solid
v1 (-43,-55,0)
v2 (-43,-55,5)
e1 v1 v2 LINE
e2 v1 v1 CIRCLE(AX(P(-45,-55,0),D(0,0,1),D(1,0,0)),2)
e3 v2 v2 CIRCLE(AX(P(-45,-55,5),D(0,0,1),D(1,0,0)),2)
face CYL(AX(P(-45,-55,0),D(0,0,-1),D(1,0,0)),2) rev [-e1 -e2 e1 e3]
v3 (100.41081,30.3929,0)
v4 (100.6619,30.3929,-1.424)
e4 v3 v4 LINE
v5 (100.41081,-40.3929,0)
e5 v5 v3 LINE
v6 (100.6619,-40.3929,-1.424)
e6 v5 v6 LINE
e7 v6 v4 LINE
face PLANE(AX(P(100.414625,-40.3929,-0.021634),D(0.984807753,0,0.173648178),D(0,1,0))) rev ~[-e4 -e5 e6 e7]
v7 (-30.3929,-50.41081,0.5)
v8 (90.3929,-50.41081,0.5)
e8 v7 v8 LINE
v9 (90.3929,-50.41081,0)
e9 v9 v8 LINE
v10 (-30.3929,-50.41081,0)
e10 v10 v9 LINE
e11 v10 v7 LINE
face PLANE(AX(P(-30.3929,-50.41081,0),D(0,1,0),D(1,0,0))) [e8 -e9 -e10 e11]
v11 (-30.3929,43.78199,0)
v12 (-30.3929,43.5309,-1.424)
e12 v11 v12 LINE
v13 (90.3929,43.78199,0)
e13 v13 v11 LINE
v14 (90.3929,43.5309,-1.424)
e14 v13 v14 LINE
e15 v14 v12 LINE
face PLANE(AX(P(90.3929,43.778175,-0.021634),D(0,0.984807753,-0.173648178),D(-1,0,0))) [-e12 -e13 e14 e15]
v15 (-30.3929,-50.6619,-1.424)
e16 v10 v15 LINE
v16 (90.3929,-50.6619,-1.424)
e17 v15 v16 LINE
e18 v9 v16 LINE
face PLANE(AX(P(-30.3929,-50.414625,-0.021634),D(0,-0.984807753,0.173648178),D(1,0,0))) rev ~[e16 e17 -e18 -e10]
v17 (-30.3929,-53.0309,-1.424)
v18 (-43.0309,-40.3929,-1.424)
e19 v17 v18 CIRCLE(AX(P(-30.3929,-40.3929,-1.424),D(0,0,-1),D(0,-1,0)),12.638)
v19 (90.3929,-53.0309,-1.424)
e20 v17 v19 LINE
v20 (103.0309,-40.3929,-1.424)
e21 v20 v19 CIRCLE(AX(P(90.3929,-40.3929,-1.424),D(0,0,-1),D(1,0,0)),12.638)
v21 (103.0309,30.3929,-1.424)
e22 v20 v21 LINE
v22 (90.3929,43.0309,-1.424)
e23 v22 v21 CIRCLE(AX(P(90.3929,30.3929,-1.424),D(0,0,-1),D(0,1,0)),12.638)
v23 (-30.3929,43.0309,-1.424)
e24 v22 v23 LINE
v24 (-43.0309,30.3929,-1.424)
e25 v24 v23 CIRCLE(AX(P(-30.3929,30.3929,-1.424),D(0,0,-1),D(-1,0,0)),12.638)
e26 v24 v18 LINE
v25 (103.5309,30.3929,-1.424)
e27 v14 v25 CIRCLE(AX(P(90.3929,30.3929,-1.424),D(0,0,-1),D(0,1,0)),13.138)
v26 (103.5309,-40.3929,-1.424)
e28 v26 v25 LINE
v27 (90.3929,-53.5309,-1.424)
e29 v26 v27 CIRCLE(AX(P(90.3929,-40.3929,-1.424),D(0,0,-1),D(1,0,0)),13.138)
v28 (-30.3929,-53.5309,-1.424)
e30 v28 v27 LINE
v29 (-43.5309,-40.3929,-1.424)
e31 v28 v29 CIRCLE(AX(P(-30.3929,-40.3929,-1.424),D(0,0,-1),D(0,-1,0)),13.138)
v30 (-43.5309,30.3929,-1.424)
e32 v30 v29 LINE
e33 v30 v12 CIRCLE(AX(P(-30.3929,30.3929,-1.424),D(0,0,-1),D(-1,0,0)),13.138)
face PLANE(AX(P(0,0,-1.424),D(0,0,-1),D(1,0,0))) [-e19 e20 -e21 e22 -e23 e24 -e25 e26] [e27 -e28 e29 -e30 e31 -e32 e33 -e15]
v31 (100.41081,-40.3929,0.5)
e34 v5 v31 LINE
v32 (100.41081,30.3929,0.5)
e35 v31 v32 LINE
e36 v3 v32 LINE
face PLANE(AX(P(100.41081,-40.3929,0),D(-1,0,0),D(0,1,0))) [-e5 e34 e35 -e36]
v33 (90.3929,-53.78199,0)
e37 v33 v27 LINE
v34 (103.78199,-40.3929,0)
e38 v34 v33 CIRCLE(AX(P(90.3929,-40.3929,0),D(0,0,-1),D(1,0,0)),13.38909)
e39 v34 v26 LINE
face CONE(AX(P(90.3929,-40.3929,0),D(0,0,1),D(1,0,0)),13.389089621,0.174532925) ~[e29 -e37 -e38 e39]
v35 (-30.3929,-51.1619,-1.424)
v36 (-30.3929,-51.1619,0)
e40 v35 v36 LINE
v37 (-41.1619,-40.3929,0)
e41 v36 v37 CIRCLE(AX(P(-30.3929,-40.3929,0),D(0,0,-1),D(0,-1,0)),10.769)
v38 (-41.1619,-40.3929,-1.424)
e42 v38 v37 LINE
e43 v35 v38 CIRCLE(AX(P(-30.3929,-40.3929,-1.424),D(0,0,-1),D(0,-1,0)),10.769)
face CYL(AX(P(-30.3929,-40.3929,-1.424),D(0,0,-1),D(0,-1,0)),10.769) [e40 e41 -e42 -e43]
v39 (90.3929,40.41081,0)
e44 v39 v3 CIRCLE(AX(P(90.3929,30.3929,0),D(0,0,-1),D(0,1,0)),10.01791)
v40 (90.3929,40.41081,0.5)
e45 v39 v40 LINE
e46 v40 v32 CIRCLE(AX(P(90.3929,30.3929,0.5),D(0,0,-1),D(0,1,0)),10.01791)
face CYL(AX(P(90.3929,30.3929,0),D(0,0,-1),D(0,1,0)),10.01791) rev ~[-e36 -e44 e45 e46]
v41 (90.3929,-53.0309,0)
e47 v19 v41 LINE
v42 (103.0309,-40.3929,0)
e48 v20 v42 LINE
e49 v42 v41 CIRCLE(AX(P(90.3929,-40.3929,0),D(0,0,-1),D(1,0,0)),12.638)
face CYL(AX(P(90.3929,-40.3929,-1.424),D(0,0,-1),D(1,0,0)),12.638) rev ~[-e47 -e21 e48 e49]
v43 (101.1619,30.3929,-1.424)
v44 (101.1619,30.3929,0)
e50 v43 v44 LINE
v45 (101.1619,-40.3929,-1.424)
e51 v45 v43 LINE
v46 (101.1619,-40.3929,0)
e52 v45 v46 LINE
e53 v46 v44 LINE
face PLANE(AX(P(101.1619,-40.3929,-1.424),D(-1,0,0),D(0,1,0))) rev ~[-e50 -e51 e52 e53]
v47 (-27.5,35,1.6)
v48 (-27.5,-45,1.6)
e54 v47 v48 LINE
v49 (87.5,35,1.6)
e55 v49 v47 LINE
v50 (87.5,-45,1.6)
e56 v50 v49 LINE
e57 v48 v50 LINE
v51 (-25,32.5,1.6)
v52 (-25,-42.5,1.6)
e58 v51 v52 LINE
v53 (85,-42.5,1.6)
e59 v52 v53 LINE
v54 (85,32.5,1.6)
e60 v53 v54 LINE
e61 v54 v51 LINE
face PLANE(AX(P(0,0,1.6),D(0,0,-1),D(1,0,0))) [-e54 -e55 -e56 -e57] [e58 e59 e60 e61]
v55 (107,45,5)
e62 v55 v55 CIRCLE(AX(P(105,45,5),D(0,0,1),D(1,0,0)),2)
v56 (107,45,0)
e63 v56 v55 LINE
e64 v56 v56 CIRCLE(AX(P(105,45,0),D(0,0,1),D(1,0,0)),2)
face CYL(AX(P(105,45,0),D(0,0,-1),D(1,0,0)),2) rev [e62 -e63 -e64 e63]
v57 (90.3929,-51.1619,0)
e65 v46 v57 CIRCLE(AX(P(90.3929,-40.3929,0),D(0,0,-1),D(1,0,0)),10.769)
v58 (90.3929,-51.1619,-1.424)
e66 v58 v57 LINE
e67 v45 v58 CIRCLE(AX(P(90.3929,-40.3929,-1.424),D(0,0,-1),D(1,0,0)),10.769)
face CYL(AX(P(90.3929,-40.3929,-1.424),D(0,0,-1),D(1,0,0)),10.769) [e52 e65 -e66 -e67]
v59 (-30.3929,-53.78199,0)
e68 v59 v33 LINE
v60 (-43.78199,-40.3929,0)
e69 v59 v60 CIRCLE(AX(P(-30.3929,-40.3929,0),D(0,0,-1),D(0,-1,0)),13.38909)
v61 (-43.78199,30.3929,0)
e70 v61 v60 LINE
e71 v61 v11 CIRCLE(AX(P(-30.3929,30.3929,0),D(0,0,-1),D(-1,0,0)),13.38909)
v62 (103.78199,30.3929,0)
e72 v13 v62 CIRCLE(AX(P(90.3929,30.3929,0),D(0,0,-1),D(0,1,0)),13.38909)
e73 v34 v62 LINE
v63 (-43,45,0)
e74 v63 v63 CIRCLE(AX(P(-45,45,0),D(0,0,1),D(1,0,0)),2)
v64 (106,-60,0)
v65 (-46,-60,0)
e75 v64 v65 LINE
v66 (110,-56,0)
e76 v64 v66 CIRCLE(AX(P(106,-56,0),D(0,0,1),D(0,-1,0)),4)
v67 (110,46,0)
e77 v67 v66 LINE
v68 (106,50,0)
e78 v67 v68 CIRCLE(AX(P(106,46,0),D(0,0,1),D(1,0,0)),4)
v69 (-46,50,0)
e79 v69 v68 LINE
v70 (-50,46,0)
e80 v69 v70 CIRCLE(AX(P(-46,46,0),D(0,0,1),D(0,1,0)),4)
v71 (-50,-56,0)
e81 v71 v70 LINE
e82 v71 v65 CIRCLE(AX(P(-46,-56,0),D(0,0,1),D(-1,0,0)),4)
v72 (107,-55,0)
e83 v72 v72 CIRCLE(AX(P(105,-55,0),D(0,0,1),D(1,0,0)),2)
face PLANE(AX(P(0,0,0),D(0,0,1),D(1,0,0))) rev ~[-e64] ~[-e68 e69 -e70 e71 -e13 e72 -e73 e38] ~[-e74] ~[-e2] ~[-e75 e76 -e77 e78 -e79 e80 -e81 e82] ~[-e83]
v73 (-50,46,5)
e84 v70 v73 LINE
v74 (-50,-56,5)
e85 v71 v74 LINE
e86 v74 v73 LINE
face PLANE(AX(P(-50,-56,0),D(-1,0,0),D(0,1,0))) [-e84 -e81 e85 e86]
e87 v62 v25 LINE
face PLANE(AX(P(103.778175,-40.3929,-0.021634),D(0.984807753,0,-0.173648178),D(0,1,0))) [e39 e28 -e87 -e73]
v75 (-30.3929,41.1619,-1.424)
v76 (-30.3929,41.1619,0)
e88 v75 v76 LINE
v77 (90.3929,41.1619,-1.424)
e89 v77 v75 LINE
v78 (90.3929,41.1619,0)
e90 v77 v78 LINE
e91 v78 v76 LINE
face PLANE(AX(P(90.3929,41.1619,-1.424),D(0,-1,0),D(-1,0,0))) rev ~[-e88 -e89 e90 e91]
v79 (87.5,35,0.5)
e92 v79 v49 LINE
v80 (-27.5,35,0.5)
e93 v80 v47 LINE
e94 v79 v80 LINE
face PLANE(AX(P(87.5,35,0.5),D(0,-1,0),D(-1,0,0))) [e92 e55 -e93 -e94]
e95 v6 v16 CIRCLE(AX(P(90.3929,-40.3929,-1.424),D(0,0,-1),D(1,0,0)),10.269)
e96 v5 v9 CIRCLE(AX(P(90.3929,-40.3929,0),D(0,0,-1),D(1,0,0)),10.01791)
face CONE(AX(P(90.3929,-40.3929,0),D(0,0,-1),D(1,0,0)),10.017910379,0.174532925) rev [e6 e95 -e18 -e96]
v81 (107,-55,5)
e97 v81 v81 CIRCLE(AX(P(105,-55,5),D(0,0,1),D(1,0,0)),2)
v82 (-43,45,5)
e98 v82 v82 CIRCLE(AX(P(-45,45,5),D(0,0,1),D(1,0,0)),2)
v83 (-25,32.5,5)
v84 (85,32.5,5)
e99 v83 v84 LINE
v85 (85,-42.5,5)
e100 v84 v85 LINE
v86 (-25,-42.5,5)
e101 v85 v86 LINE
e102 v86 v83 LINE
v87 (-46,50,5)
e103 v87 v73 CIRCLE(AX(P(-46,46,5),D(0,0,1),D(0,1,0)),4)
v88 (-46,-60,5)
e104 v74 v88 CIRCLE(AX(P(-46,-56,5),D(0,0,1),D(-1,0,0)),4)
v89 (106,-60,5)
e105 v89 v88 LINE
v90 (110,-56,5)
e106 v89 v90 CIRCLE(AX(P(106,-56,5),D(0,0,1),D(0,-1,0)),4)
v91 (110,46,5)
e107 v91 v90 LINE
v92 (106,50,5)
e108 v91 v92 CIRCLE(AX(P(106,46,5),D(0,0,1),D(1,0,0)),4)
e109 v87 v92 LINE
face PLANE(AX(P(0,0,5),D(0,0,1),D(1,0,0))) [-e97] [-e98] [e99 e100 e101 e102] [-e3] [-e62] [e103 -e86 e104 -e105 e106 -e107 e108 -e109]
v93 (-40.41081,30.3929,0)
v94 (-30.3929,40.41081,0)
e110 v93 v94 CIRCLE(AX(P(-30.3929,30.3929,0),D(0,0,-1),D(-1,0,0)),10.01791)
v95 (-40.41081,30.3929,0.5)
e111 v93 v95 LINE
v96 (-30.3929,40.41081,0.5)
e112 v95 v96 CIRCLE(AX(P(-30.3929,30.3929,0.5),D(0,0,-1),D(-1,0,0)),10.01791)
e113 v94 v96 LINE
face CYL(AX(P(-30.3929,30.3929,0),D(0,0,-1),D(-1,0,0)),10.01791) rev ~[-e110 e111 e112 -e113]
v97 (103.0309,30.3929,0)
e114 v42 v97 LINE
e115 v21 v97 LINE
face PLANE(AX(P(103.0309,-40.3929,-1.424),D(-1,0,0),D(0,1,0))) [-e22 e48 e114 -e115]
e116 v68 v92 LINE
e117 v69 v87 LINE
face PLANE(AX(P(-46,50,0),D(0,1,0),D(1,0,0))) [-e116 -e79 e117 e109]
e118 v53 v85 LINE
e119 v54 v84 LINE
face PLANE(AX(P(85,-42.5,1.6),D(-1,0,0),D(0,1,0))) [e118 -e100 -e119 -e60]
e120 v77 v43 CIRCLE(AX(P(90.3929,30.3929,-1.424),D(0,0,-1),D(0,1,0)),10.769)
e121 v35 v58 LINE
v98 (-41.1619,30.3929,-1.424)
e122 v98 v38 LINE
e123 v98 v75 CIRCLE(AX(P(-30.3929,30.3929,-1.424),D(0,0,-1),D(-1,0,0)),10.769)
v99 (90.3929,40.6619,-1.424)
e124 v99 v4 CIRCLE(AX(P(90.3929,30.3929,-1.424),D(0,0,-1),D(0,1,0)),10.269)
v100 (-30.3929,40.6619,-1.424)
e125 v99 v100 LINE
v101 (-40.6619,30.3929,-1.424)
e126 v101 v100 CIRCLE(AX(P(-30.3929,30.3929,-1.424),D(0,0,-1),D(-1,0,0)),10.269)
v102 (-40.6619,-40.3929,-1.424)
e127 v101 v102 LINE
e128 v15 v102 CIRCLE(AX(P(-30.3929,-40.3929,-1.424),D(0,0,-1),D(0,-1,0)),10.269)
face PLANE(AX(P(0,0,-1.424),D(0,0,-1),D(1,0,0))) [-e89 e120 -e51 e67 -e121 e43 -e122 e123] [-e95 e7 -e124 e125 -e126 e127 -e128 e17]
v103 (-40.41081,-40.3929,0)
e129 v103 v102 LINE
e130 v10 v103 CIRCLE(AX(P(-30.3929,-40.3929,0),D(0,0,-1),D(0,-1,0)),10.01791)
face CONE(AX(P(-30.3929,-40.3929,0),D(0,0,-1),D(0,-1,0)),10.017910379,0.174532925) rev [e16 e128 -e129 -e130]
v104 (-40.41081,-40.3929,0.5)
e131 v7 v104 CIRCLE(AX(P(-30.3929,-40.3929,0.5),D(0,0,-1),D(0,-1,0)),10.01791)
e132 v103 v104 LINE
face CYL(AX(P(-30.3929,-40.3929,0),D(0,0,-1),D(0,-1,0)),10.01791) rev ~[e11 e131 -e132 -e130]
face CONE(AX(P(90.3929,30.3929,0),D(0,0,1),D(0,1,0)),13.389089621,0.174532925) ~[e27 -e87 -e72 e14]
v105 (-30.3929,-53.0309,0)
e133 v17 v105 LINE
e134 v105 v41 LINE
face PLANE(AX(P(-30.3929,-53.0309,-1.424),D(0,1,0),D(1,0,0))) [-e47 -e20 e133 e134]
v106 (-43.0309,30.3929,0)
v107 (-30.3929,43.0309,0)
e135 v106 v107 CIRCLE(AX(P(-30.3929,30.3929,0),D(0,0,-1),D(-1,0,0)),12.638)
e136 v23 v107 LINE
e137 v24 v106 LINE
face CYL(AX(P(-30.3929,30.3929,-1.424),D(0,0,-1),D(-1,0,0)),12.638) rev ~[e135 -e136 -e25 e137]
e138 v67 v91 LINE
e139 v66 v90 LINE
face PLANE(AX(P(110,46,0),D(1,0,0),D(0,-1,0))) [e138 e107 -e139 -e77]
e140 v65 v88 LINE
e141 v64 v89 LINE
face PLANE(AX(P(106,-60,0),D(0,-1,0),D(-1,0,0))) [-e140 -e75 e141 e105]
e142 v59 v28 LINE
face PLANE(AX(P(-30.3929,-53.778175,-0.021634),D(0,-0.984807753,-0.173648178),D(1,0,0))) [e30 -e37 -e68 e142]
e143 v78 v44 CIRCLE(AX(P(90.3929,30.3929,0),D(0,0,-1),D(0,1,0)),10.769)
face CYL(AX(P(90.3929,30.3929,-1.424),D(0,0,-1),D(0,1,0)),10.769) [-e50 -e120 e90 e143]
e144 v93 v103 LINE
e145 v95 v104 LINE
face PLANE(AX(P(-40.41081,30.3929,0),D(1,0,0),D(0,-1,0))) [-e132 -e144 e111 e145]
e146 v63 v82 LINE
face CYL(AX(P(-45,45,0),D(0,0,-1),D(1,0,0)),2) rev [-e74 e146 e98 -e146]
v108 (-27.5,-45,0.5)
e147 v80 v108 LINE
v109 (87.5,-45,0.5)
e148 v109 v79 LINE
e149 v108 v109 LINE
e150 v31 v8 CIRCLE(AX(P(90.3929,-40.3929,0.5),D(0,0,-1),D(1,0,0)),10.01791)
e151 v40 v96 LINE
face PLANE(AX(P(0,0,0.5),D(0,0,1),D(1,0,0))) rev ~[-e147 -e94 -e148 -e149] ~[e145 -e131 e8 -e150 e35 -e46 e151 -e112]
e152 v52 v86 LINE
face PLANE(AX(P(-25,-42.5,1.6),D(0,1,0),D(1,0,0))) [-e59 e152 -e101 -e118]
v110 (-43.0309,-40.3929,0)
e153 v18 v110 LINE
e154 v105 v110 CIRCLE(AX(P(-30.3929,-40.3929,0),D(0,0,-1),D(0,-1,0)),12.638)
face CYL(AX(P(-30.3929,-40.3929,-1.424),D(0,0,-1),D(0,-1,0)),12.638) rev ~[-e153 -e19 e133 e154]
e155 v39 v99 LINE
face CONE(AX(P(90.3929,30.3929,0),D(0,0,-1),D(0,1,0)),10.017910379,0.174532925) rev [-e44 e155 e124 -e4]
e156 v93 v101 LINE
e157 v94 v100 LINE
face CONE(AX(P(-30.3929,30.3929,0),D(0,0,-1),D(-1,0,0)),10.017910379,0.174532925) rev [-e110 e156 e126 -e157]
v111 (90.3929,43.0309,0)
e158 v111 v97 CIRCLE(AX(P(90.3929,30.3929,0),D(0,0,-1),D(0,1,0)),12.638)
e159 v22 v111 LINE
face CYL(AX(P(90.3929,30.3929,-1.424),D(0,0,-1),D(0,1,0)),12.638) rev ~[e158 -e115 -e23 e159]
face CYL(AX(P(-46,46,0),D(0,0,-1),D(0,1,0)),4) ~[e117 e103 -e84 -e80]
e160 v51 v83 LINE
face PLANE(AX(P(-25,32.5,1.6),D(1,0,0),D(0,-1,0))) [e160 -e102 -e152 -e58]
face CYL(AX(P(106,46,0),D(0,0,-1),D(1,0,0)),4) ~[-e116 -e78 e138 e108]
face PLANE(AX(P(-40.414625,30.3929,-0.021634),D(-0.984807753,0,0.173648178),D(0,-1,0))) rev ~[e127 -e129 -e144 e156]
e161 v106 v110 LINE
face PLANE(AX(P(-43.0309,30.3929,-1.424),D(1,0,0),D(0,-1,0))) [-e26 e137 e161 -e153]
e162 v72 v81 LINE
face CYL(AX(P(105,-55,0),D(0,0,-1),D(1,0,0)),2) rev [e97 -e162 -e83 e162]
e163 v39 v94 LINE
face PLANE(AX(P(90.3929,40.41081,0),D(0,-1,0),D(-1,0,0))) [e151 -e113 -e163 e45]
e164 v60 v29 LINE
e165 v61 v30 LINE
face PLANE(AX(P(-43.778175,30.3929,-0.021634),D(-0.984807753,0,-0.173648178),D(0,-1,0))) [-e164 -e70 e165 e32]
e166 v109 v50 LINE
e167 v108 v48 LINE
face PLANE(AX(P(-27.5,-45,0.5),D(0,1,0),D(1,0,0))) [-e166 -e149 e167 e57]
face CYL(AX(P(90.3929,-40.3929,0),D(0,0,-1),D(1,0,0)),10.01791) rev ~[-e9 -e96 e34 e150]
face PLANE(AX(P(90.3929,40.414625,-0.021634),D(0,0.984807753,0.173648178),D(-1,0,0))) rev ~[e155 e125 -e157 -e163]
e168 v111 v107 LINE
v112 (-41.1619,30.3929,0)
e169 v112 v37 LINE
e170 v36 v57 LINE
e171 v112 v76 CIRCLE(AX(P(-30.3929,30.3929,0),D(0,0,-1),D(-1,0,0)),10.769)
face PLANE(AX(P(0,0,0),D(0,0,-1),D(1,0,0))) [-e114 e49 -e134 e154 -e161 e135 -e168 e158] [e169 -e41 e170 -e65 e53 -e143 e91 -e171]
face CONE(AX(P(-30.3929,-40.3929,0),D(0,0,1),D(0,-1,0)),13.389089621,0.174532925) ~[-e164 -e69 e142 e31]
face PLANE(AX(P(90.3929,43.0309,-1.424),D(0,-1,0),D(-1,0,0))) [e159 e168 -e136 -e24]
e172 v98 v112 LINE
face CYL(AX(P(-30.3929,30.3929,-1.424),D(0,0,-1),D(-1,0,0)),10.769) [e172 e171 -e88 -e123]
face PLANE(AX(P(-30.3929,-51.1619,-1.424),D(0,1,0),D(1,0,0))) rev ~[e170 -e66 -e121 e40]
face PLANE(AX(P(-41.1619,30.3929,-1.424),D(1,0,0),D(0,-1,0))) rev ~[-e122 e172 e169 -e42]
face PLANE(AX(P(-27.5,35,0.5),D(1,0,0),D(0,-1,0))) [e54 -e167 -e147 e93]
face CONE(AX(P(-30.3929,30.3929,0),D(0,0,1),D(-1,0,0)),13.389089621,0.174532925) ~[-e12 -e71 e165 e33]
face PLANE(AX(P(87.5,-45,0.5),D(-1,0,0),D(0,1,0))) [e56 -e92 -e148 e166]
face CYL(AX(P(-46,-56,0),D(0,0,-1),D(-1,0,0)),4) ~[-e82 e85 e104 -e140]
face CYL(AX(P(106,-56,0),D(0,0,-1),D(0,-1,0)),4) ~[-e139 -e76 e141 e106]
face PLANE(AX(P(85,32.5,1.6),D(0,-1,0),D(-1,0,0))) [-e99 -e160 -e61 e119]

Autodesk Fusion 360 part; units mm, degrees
sketch "Sketch2" plane through (0, 0, 0) normal (0, 0, 1) x (1, 0, 0)
  line L0 (-46, 50) -> (106, 50)
  line L1 (110, 46) -> (110, -56)
  line L2 (106, -60) -> (-46, -60)
  line L3 (-50, -56) -> (-50, 46)
  circle A0 centre (-45, 45) radius 2
  line L4 (30, -60) -> (30, 50) construction
  line L5 (-50, -5) -> (110, -5) construction
  arc A1 (-46, 50) -> (-50, 46) centre (-46, 46) ccw
  circle A2 centre (105, 45) radius 2
  arc A3 (110, 46) -> (106, 50) centre (106, 46) ccw
  circle A4 centre (105, -55) radius 2
  arc A5 (106, -60) -> (110, -56) centre (106, -56) ccw
  circle A6 centre (-45, -55) radius 2
  arc A7 (-50, -56) -> (-46, -60) centre (-46, -56) ccw
  point P0 (-50, 50)
  point P1 (110, 50)
  dimension "d3" = 4
  dimension "d4" = 5
  dimension "d5" = 5
  dimension "d6" = 4
  dimension "d63" = 160
  dimension "d64" = 110
extrude "Extrude1" add sketch "Sketch2" along normal blind 5
sketch "Sketch3" plane through (0, 0, 0) normal (0, 0, -1) x (1, 0, 0)
  circle A0 centre (105, 55) radius 2
  circle A1 centre (-45, 55) radius 2
  circle A2 centre (-45, -45) radius 2
  circle A3 centre (105, -45) radius 2
  arc A4 (-50, -46) -> (-46, -50) centre (-46, -46) ccw
  line L0 (-46, -50) -> (106, -50)
  arc A5 (106, -50) -> (110, -46) centre (106, -46) ccw
  line L1 (110, -46) -> (110, 56)
  arc A6 (110, 56) -> (106, 60) centre (106, 56) ccw
  line L2 (106, 60) -> (-46, 60)
  arc A7 (-46, 60) -> (-50, 56) centre (-46, 56) ccw
  line L3 (-50, 56) -> (-50, -46)
  line L4 (30, 60) -> (30, -50) construction
  line L5 (110, 5) -> (-50, 5) construction
  line L6 (102.0964, -42.0964) -> (-42.0964, -42.0964) construction
  line L7 (-42.0964, -42.0964) -> (-42.0964, 52.0964) construction
  line L8 (-42.0964, 52.0964) -> (102.0964, 52.0964) construction
  line L9 (102.0964, 52.0964) -> (102.0964, -42.0964) construction
  line L10 (102.0964, -42.0964) -> (-42.0964, 52.0964) construction
  line L11 (-42.0964, -42.0964) -> (102.0964, 52.0964) construction
  line L12 (90.3929, -43.5309) -> (-30.3929, -43.5309)
  line L13 (-43.5309, -30.3929) -> (-43.5309, 40.3929)
  line L14 (-30.3929, 53.5309) -> (90.3929, 53.5309)
  line L15 (103.5309, 40.3929) -> (103.5309, -30.3929)
  line L16 (88.8372, -33.833) -> (-43.5309, 53.5309) construction
  line L17 (-37.4412, -35.28) -> (85.6746, 38.2522) construction
  line L18 (-40.6619, -30.3929) -> (-40.6619, 40.3929)
  line L19 (-30.3929, 50.6619) -> (90.3929, 50.6619)
  line L20 (100.6619, 40.3929) -> (100.6619, -30.3929)
  line L21 (98.0436, -38.97) -> (-40.6619, 50.6619) construction
  line L22 (-34.7613, -32.5014) -> (82.9436, 35.6581) construction
  arc A8 (-30.3929, 50.6619) -> (-40.6619, 40.3929) centre (-30.3929, 40.3929) ccw
  arc A9 (-30.3929, 53.5309) -> (-43.5309, 40.3929) centre (-30.3929, 40.3929) ccw
  arc A10 (100.6619, 40.3929) -> (90.3929, 50.6619) centre (90.3929, 40.3929) ccw
  arc A11 (103.5309, 40.3929) -> (90.3929, 53.5309) centre (90.3929, 40.3929) ccw
  arc A12 (-40.6619, -30.3929) -> (-30.3929, -40.6619) centre (-30.3929, -30.3929) ccw
  arc A13 (-43.5309, -30.3929) -> (-30.3929, -43.5309) centre (-30.3929, -30.3929) ccw
  arc A14 (90.3929, -40.6619) -> (100.6619, -30.3929) centre (90.3929, -30.3929) ccw
  arc A15 (90.3929, -43.5309) -> (103.5309, -30.3929) centre (90.3929, -30.3929) ccw
  line L23 (90.3929, -40.6619) -> (-30.3929, -40.6619)
  point P0 (30, 5)
  point P1 (30, 5)
  point P2 (30, 5)
  point P3 (30, 5)
  point P4 (30, 5)
  dimension "d25" = 144.1928
  dimension "d27" = 94.1928
  dimension "d28" = 1.4345
  dimension "d29" = 1.4345
  dimension "d30" = 1.4345
  dimension "d31" = 1.4345
  dimension "d44" = 10.269
  dimension "d45" = 13.138
extrude "Extrude4" add sketch "Sketch3" along normal blind 1.424 contours L12 L13 L14 L15 A9 A11 A13 A15
draft "Draft3" angle 10 neutral plane through (0, 0, -1.424) pull (0, 0, -1) 16 faces at (9.869, -50.6619, -0.9493) (96.3495, -48.7578, -0.9493) (100.6619, -16.7976, -0.4747) (92.8139, 40.3724, -0.9493) (9.869, 40.6619, -0.9493) (-33.7516, 40.0971, -0.9493) (-40.6619, 6.7976, -0.4747) (-40.0971, -43.7516, -0.9493) (-43.5309, 6.7976, -0.4747) (-38.0137, 41.0948, -0.9493) (50.131, 43.5309, -0.4747) (103.516, 31.018, -0.9493) (103.5309, -16.7976, -0.9493) (99.4592, -49.9013, -0.9493) (9.869, -53.5309, -0.4747) (-38.5143, -50.7201, -0.9493)
sketch "Sketch5" plane through (0, 0, -1.424) normal (0, 0, -1) x (1, 0, 0)
  line L0 (-30.3929, 50.6619) -> (90.3929, 50.6619)
  line L1 (100.6619, 40.3929) -> (100.6619, -30.3929)
  line L2 (90.3929, -40.6619) -> (-30.3929, -40.6619)
  line L3 (-40.6619, -30.3929) -> (-40.6619, 40.3929)
  line L4 (90.3929, 53.5309) -> (-30.3929, 53.5309)
  line L5 (-43.5309, 40.3929) -> (-43.5309, -30.3929)
  line L6 (-30.3929, -43.5309) -> (90.3929, -43.5309)
  line L7 (103.5309, -30.3929) -> (103.5309, 40.3929)
  line L8 (30, 53.5309) -> (30, -43.5309) construction
  line L9 (103.5309, 5) -> (-43.5309, 5) construction
  line L10 (102.0964, -42.0964) -> (-42.0964, -42.0964) construction
  line L11 (-42.0964, -42.0964) -> (-42.0964, 52.0964) construction
  line L12 (-42.0964, 52.0964) -> (102.0964, 52.0964) construction
  line L13 (102.0964, 52.0964) -> (102.0964, -42.0964) construction
  line L14 (102.0964, -42.0964) -> (-42.0964, 52.0964) construction
  line L15 (-42.0964, -42.0964) -> (102.0964, 52.0964) construction
  line L16 (90.3929, -43.0309) -> (-30.3929, -43.0309)
  line L17 (-43.0309, -30.3929) -> (-43.0309, 40.3929)
  line L18 (-30.3929, 53.0309) -> (90.3929, 53.0309)
  line L19 (103.0309, 40.3929) -> (103.0309, -30.3929)
  line L20 (88.9806, -33.7903) -> (-43.0309, 53.0309) construction
  line L21 (-43.0309, -43.0309) -> (88.9807, 43.7903) construction
  line L22 (90.3929, -41.1619) -> (-30.3929, -41.1619)
  line L23 (-41.1619, -30.3929) -> (-41.1619, 40.3929)
  line L24 (101.1619, 40.3929) -> (101.1619, -30.3929)
  line L25 (88.054, -32.659) -> (-41.1619, 51.1619) construction
  line L26 (-41.1619, -41.1619) -> (88.054, 42.659) construction
  arc A0 (100.6619, 40.3929) -> (90.3929, 50.6619) centre (90.3929, 40.3929) ccw
  arc A1 (90.3929, -40.6619) -> (100.6619, -30.3929) centre (90.3929, -30.3929) ccw
  arc A2 (-40.6619, -30.3929) -> (-30.3929, -40.6619) centre (-30.3929, -30.3929) ccw
  arc A3 (-30.3929, 50.6619) -> (-40.6619, 40.3929) centre (-30.3929, 40.3929) ccw
  arc A4 (-43.5309, -30.3929) -> (-30.3929, -43.5309) centre (-30.3929, -30.3929) ccw
  arc A5 (90.3929, -43.5309) -> (103.5309, -30.3929) centre (90.3929, -30.3929) ccw
  arc A6 (103.5309, 40.3929) -> (90.3929, 53.5309) centre (90.3929, 40.3929) ccw
  arc A7 (-30.3929, 53.5309) -> (-43.5309, 40.3929) centre (-30.3929, 40.3929) ccw
  arc A8 (-30.3929, 51.1619) -> (-41.1619, 40.3929) centre (-30.3929, 40.3929) ccw
  arc A9 (-30.3929, 53.0309) -> (-43.0309, 40.3929) centre (-30.3929, 40.3929) ccw
  arc A10 (101.1619, 40.3929) -> (90.3929, 51.1619) centre (90.3929, 40.3929) ccw
  arc A11 (103.0309, 40.3929) -> (90.3929, 53.0309) centre (90.3929, 40.3929) ccw
  line L27 (-30.3929, 51.1619) -> (90.3929, 51.1619)
  arc A12 (90.3929, -41.1619) -> (101.1619, -30.3929) centre (90.3929, -30.3929) ccw
  arc A13 (90.3929, -43.0309) -> (103.0309, -30.3929) centre (90.3929, -30.3929) ccw
  arc A14 (-41.1619, -30.3929) -> (-30.3929, -41.1619) centre (-30.3929, -30.3929) ccw
  arc A15 (-43.0309, -30.3929) -> (-30.3929, -43.0309) centre (-30.3929, -30.3929) ccw
  point P0 (30, 5)
  point P1 (30, 5)
  point P2 (30, 5)
  dimension "d36" = 144.1928
  dimension "d37" = 94.1928
  dimension "d38" = 0.9345
  dimension "d39" = 0.9345
  dimension "d40" = 0.9345
  dimension "d41" = 0.9345
  dimension "d50" = 10.769
  dimension "d51" = 12.638
extrude "Extrude6" cut sketch "Sketch5" against normal blind 1.424 contours L16 L17 L18 L19 A9 A11 A13 A15
extrude "Extrude7" cut 1 faces at (50.131, -20.1369, 0) along direction (0, 0, 1) blind 0.5
sketch "Sketch6" plane through (0, 0, 0.5) normal (0, 0, -1) x (1, 0, 0)
  line L0 (90.3929, 50.4108) -> (-30.3929, 50.4108)
  arc A0 (-30.3929, 50.4108) -> (-40.4108, 40.3929) centre (-30.3929, 40.3929) ccw
  line L1 (-40.4108, 40.3929) -> (-40.4108, -30.3929)
  arc A1 (-40.4108, -30.3929) -> (-30.3929, -40.4108) centre (-30.3929, -30.3929) ccw
  line L2 (-30.3929, -40.4108) -> (90.3929, -40.4108)
  arc A2 (90.3929, -40.4108) -> (100.4108, -30.3929) centre (90.3929, -30.3929) ccw
  line L3 (100.4108, -30.3929) -> (100.4108, 40.3929)
  arc A3 (100.4108, 40.3929) -> (90.3929, 50.4108) centre (90.3929, 40.3929) ccw
  line L4 (30, 50.4108) -> (30, -40.4108) construction
  line L5 (-40.4108, 5) -> (100.4108, 5) construction
  line L6 (87.5, -35) -> (-27.5, -35)
  line L7 (-27.5, -35) -> (-27.5, 45)
  line L8 (-27.5, 45) -> (87.5, 45)
  line L9 (87.5, 45) -> (87.5, -35)
  line L10 (87.5, -35) -> (-27.5, 45) construction
  line L11 (-27.5, -35) -> (87.5, 45) construction
  point P0 (30, 5)
  dimension "d58" = 115
  dimension "d59" = 80
extrude "Extrude8" cut sketch "Sketch6" against normal blind 1.1 contours L6 L7 L8 L9
sketch "Sketch7" plane through (0, 0, 1.6) normal (0, 0, -1) x (1, 0, 0)
  line L0 (87.5, 45) -> (-27.5, 45)
  line L1 (-27.5, 45) -> (-27.5, -35)
  line L2 (-27.5, -35) -> (87.5, -35)
  line L3 (87.5, -35) -> (87.5, 45)
  line L4 (30, 45) -> (30, -35) construction
  line L5 (87.5, 5) -> (-27.5, 5) construction
  line L6 (85, -32.5) -> (-25, -32.5)
  line L7 (-25, -32.5) -> (-25, 42.5)
  line L8 (-25, 42.5) -> (85, 42.5)
  line L9 (85, 42.5) -> (85, -32.5)
  line L10 (85, -32.5) -> (-25, 42.5) construction
  line L11 (-25, -32.5) -> (85, 42.5) construction
  point P0 (30, 5)
  dimension "d62" = 110
  dimension "d65" = 75
extrude "Extrude9" cut sketch "Sketch7" against normal blind 8.4 contours L6 L7 L8 L9
equation "ORingDiameter = 1.78 mm" comment "Diamter of the O ring"
equation "ORingInnerDiameter = 150 mm" comment "Inner diamter of the o ring bore"
equation "d25 = ( ORingPerimeter - 100 mm ) / 4 + 50 mm"
equation "ORingPerimeter = 2 * 3.1412 * ( ( ORingInnerDiameter / 2 ) + ORingDiameter / 2 )"
equation "d27 = ( ORingPerimeter - 100 mm ) / 4"
equation "d28 = ( ( ORingDiameter * 1.05 ) / 2 ) + 0.5 mm"
equation "d29 = ( ( ORingDiameter * 1.05 ) / 2 ) + 0.5 mm"
equation "d30 = ( ( ORingDiameter * 1.05 ) / 2 ) + 0.5 mm"
equation "d31 = ( ( ORingDiameter * 1.05 ) / 2 ) + 0.5 mm"
equation "d32 = ORingDiameter * 0.8"
equation "d36 = ( ORingPerimeter - 100 mm ) / 4 + 50 mm"
equation "d37 = ( ORingPerimeter - 100 mm ) / 4"
equation "d38 = ( ORingDiameter * 1.05 ) / 2"
equation "d39 = ( ORingDiameter * 1.05 ) / 2"
equation "d40 = ( ORingDiameter * 1.05 ) / 2"
equation "d41 = ( ORingDiameter * 1.05 ) / 2"
equation "d44 = ( ORingDiameter ) * 6 + ORingDiameter * 0.05 - 0.5 mm"
equation "d45 = ( ORingDiameter ) * 6 + ( ORingDiameter * 1.1 ) + 0.5 mm"
equation "d50 = ( ORingDiameter ) * 6 + ORingDiameter * 0.05 - 0.0 mm"
equation "d51 = ( ORingDiameter ) * 6 + ORingDiameter * 1.1 + 0 mm"
equation "d52 = -( ORingDiameter * 0.8 )"
equation "PanelWidth = 80 mm"
equation "PanelLength = 115 mm"
equation "d58 = PanelLength"
equation "d59 = PanelWidth"
equation "d62 = PanelLength - 5 mm"
equation "d65 = PanelWidth - 5 mm"
